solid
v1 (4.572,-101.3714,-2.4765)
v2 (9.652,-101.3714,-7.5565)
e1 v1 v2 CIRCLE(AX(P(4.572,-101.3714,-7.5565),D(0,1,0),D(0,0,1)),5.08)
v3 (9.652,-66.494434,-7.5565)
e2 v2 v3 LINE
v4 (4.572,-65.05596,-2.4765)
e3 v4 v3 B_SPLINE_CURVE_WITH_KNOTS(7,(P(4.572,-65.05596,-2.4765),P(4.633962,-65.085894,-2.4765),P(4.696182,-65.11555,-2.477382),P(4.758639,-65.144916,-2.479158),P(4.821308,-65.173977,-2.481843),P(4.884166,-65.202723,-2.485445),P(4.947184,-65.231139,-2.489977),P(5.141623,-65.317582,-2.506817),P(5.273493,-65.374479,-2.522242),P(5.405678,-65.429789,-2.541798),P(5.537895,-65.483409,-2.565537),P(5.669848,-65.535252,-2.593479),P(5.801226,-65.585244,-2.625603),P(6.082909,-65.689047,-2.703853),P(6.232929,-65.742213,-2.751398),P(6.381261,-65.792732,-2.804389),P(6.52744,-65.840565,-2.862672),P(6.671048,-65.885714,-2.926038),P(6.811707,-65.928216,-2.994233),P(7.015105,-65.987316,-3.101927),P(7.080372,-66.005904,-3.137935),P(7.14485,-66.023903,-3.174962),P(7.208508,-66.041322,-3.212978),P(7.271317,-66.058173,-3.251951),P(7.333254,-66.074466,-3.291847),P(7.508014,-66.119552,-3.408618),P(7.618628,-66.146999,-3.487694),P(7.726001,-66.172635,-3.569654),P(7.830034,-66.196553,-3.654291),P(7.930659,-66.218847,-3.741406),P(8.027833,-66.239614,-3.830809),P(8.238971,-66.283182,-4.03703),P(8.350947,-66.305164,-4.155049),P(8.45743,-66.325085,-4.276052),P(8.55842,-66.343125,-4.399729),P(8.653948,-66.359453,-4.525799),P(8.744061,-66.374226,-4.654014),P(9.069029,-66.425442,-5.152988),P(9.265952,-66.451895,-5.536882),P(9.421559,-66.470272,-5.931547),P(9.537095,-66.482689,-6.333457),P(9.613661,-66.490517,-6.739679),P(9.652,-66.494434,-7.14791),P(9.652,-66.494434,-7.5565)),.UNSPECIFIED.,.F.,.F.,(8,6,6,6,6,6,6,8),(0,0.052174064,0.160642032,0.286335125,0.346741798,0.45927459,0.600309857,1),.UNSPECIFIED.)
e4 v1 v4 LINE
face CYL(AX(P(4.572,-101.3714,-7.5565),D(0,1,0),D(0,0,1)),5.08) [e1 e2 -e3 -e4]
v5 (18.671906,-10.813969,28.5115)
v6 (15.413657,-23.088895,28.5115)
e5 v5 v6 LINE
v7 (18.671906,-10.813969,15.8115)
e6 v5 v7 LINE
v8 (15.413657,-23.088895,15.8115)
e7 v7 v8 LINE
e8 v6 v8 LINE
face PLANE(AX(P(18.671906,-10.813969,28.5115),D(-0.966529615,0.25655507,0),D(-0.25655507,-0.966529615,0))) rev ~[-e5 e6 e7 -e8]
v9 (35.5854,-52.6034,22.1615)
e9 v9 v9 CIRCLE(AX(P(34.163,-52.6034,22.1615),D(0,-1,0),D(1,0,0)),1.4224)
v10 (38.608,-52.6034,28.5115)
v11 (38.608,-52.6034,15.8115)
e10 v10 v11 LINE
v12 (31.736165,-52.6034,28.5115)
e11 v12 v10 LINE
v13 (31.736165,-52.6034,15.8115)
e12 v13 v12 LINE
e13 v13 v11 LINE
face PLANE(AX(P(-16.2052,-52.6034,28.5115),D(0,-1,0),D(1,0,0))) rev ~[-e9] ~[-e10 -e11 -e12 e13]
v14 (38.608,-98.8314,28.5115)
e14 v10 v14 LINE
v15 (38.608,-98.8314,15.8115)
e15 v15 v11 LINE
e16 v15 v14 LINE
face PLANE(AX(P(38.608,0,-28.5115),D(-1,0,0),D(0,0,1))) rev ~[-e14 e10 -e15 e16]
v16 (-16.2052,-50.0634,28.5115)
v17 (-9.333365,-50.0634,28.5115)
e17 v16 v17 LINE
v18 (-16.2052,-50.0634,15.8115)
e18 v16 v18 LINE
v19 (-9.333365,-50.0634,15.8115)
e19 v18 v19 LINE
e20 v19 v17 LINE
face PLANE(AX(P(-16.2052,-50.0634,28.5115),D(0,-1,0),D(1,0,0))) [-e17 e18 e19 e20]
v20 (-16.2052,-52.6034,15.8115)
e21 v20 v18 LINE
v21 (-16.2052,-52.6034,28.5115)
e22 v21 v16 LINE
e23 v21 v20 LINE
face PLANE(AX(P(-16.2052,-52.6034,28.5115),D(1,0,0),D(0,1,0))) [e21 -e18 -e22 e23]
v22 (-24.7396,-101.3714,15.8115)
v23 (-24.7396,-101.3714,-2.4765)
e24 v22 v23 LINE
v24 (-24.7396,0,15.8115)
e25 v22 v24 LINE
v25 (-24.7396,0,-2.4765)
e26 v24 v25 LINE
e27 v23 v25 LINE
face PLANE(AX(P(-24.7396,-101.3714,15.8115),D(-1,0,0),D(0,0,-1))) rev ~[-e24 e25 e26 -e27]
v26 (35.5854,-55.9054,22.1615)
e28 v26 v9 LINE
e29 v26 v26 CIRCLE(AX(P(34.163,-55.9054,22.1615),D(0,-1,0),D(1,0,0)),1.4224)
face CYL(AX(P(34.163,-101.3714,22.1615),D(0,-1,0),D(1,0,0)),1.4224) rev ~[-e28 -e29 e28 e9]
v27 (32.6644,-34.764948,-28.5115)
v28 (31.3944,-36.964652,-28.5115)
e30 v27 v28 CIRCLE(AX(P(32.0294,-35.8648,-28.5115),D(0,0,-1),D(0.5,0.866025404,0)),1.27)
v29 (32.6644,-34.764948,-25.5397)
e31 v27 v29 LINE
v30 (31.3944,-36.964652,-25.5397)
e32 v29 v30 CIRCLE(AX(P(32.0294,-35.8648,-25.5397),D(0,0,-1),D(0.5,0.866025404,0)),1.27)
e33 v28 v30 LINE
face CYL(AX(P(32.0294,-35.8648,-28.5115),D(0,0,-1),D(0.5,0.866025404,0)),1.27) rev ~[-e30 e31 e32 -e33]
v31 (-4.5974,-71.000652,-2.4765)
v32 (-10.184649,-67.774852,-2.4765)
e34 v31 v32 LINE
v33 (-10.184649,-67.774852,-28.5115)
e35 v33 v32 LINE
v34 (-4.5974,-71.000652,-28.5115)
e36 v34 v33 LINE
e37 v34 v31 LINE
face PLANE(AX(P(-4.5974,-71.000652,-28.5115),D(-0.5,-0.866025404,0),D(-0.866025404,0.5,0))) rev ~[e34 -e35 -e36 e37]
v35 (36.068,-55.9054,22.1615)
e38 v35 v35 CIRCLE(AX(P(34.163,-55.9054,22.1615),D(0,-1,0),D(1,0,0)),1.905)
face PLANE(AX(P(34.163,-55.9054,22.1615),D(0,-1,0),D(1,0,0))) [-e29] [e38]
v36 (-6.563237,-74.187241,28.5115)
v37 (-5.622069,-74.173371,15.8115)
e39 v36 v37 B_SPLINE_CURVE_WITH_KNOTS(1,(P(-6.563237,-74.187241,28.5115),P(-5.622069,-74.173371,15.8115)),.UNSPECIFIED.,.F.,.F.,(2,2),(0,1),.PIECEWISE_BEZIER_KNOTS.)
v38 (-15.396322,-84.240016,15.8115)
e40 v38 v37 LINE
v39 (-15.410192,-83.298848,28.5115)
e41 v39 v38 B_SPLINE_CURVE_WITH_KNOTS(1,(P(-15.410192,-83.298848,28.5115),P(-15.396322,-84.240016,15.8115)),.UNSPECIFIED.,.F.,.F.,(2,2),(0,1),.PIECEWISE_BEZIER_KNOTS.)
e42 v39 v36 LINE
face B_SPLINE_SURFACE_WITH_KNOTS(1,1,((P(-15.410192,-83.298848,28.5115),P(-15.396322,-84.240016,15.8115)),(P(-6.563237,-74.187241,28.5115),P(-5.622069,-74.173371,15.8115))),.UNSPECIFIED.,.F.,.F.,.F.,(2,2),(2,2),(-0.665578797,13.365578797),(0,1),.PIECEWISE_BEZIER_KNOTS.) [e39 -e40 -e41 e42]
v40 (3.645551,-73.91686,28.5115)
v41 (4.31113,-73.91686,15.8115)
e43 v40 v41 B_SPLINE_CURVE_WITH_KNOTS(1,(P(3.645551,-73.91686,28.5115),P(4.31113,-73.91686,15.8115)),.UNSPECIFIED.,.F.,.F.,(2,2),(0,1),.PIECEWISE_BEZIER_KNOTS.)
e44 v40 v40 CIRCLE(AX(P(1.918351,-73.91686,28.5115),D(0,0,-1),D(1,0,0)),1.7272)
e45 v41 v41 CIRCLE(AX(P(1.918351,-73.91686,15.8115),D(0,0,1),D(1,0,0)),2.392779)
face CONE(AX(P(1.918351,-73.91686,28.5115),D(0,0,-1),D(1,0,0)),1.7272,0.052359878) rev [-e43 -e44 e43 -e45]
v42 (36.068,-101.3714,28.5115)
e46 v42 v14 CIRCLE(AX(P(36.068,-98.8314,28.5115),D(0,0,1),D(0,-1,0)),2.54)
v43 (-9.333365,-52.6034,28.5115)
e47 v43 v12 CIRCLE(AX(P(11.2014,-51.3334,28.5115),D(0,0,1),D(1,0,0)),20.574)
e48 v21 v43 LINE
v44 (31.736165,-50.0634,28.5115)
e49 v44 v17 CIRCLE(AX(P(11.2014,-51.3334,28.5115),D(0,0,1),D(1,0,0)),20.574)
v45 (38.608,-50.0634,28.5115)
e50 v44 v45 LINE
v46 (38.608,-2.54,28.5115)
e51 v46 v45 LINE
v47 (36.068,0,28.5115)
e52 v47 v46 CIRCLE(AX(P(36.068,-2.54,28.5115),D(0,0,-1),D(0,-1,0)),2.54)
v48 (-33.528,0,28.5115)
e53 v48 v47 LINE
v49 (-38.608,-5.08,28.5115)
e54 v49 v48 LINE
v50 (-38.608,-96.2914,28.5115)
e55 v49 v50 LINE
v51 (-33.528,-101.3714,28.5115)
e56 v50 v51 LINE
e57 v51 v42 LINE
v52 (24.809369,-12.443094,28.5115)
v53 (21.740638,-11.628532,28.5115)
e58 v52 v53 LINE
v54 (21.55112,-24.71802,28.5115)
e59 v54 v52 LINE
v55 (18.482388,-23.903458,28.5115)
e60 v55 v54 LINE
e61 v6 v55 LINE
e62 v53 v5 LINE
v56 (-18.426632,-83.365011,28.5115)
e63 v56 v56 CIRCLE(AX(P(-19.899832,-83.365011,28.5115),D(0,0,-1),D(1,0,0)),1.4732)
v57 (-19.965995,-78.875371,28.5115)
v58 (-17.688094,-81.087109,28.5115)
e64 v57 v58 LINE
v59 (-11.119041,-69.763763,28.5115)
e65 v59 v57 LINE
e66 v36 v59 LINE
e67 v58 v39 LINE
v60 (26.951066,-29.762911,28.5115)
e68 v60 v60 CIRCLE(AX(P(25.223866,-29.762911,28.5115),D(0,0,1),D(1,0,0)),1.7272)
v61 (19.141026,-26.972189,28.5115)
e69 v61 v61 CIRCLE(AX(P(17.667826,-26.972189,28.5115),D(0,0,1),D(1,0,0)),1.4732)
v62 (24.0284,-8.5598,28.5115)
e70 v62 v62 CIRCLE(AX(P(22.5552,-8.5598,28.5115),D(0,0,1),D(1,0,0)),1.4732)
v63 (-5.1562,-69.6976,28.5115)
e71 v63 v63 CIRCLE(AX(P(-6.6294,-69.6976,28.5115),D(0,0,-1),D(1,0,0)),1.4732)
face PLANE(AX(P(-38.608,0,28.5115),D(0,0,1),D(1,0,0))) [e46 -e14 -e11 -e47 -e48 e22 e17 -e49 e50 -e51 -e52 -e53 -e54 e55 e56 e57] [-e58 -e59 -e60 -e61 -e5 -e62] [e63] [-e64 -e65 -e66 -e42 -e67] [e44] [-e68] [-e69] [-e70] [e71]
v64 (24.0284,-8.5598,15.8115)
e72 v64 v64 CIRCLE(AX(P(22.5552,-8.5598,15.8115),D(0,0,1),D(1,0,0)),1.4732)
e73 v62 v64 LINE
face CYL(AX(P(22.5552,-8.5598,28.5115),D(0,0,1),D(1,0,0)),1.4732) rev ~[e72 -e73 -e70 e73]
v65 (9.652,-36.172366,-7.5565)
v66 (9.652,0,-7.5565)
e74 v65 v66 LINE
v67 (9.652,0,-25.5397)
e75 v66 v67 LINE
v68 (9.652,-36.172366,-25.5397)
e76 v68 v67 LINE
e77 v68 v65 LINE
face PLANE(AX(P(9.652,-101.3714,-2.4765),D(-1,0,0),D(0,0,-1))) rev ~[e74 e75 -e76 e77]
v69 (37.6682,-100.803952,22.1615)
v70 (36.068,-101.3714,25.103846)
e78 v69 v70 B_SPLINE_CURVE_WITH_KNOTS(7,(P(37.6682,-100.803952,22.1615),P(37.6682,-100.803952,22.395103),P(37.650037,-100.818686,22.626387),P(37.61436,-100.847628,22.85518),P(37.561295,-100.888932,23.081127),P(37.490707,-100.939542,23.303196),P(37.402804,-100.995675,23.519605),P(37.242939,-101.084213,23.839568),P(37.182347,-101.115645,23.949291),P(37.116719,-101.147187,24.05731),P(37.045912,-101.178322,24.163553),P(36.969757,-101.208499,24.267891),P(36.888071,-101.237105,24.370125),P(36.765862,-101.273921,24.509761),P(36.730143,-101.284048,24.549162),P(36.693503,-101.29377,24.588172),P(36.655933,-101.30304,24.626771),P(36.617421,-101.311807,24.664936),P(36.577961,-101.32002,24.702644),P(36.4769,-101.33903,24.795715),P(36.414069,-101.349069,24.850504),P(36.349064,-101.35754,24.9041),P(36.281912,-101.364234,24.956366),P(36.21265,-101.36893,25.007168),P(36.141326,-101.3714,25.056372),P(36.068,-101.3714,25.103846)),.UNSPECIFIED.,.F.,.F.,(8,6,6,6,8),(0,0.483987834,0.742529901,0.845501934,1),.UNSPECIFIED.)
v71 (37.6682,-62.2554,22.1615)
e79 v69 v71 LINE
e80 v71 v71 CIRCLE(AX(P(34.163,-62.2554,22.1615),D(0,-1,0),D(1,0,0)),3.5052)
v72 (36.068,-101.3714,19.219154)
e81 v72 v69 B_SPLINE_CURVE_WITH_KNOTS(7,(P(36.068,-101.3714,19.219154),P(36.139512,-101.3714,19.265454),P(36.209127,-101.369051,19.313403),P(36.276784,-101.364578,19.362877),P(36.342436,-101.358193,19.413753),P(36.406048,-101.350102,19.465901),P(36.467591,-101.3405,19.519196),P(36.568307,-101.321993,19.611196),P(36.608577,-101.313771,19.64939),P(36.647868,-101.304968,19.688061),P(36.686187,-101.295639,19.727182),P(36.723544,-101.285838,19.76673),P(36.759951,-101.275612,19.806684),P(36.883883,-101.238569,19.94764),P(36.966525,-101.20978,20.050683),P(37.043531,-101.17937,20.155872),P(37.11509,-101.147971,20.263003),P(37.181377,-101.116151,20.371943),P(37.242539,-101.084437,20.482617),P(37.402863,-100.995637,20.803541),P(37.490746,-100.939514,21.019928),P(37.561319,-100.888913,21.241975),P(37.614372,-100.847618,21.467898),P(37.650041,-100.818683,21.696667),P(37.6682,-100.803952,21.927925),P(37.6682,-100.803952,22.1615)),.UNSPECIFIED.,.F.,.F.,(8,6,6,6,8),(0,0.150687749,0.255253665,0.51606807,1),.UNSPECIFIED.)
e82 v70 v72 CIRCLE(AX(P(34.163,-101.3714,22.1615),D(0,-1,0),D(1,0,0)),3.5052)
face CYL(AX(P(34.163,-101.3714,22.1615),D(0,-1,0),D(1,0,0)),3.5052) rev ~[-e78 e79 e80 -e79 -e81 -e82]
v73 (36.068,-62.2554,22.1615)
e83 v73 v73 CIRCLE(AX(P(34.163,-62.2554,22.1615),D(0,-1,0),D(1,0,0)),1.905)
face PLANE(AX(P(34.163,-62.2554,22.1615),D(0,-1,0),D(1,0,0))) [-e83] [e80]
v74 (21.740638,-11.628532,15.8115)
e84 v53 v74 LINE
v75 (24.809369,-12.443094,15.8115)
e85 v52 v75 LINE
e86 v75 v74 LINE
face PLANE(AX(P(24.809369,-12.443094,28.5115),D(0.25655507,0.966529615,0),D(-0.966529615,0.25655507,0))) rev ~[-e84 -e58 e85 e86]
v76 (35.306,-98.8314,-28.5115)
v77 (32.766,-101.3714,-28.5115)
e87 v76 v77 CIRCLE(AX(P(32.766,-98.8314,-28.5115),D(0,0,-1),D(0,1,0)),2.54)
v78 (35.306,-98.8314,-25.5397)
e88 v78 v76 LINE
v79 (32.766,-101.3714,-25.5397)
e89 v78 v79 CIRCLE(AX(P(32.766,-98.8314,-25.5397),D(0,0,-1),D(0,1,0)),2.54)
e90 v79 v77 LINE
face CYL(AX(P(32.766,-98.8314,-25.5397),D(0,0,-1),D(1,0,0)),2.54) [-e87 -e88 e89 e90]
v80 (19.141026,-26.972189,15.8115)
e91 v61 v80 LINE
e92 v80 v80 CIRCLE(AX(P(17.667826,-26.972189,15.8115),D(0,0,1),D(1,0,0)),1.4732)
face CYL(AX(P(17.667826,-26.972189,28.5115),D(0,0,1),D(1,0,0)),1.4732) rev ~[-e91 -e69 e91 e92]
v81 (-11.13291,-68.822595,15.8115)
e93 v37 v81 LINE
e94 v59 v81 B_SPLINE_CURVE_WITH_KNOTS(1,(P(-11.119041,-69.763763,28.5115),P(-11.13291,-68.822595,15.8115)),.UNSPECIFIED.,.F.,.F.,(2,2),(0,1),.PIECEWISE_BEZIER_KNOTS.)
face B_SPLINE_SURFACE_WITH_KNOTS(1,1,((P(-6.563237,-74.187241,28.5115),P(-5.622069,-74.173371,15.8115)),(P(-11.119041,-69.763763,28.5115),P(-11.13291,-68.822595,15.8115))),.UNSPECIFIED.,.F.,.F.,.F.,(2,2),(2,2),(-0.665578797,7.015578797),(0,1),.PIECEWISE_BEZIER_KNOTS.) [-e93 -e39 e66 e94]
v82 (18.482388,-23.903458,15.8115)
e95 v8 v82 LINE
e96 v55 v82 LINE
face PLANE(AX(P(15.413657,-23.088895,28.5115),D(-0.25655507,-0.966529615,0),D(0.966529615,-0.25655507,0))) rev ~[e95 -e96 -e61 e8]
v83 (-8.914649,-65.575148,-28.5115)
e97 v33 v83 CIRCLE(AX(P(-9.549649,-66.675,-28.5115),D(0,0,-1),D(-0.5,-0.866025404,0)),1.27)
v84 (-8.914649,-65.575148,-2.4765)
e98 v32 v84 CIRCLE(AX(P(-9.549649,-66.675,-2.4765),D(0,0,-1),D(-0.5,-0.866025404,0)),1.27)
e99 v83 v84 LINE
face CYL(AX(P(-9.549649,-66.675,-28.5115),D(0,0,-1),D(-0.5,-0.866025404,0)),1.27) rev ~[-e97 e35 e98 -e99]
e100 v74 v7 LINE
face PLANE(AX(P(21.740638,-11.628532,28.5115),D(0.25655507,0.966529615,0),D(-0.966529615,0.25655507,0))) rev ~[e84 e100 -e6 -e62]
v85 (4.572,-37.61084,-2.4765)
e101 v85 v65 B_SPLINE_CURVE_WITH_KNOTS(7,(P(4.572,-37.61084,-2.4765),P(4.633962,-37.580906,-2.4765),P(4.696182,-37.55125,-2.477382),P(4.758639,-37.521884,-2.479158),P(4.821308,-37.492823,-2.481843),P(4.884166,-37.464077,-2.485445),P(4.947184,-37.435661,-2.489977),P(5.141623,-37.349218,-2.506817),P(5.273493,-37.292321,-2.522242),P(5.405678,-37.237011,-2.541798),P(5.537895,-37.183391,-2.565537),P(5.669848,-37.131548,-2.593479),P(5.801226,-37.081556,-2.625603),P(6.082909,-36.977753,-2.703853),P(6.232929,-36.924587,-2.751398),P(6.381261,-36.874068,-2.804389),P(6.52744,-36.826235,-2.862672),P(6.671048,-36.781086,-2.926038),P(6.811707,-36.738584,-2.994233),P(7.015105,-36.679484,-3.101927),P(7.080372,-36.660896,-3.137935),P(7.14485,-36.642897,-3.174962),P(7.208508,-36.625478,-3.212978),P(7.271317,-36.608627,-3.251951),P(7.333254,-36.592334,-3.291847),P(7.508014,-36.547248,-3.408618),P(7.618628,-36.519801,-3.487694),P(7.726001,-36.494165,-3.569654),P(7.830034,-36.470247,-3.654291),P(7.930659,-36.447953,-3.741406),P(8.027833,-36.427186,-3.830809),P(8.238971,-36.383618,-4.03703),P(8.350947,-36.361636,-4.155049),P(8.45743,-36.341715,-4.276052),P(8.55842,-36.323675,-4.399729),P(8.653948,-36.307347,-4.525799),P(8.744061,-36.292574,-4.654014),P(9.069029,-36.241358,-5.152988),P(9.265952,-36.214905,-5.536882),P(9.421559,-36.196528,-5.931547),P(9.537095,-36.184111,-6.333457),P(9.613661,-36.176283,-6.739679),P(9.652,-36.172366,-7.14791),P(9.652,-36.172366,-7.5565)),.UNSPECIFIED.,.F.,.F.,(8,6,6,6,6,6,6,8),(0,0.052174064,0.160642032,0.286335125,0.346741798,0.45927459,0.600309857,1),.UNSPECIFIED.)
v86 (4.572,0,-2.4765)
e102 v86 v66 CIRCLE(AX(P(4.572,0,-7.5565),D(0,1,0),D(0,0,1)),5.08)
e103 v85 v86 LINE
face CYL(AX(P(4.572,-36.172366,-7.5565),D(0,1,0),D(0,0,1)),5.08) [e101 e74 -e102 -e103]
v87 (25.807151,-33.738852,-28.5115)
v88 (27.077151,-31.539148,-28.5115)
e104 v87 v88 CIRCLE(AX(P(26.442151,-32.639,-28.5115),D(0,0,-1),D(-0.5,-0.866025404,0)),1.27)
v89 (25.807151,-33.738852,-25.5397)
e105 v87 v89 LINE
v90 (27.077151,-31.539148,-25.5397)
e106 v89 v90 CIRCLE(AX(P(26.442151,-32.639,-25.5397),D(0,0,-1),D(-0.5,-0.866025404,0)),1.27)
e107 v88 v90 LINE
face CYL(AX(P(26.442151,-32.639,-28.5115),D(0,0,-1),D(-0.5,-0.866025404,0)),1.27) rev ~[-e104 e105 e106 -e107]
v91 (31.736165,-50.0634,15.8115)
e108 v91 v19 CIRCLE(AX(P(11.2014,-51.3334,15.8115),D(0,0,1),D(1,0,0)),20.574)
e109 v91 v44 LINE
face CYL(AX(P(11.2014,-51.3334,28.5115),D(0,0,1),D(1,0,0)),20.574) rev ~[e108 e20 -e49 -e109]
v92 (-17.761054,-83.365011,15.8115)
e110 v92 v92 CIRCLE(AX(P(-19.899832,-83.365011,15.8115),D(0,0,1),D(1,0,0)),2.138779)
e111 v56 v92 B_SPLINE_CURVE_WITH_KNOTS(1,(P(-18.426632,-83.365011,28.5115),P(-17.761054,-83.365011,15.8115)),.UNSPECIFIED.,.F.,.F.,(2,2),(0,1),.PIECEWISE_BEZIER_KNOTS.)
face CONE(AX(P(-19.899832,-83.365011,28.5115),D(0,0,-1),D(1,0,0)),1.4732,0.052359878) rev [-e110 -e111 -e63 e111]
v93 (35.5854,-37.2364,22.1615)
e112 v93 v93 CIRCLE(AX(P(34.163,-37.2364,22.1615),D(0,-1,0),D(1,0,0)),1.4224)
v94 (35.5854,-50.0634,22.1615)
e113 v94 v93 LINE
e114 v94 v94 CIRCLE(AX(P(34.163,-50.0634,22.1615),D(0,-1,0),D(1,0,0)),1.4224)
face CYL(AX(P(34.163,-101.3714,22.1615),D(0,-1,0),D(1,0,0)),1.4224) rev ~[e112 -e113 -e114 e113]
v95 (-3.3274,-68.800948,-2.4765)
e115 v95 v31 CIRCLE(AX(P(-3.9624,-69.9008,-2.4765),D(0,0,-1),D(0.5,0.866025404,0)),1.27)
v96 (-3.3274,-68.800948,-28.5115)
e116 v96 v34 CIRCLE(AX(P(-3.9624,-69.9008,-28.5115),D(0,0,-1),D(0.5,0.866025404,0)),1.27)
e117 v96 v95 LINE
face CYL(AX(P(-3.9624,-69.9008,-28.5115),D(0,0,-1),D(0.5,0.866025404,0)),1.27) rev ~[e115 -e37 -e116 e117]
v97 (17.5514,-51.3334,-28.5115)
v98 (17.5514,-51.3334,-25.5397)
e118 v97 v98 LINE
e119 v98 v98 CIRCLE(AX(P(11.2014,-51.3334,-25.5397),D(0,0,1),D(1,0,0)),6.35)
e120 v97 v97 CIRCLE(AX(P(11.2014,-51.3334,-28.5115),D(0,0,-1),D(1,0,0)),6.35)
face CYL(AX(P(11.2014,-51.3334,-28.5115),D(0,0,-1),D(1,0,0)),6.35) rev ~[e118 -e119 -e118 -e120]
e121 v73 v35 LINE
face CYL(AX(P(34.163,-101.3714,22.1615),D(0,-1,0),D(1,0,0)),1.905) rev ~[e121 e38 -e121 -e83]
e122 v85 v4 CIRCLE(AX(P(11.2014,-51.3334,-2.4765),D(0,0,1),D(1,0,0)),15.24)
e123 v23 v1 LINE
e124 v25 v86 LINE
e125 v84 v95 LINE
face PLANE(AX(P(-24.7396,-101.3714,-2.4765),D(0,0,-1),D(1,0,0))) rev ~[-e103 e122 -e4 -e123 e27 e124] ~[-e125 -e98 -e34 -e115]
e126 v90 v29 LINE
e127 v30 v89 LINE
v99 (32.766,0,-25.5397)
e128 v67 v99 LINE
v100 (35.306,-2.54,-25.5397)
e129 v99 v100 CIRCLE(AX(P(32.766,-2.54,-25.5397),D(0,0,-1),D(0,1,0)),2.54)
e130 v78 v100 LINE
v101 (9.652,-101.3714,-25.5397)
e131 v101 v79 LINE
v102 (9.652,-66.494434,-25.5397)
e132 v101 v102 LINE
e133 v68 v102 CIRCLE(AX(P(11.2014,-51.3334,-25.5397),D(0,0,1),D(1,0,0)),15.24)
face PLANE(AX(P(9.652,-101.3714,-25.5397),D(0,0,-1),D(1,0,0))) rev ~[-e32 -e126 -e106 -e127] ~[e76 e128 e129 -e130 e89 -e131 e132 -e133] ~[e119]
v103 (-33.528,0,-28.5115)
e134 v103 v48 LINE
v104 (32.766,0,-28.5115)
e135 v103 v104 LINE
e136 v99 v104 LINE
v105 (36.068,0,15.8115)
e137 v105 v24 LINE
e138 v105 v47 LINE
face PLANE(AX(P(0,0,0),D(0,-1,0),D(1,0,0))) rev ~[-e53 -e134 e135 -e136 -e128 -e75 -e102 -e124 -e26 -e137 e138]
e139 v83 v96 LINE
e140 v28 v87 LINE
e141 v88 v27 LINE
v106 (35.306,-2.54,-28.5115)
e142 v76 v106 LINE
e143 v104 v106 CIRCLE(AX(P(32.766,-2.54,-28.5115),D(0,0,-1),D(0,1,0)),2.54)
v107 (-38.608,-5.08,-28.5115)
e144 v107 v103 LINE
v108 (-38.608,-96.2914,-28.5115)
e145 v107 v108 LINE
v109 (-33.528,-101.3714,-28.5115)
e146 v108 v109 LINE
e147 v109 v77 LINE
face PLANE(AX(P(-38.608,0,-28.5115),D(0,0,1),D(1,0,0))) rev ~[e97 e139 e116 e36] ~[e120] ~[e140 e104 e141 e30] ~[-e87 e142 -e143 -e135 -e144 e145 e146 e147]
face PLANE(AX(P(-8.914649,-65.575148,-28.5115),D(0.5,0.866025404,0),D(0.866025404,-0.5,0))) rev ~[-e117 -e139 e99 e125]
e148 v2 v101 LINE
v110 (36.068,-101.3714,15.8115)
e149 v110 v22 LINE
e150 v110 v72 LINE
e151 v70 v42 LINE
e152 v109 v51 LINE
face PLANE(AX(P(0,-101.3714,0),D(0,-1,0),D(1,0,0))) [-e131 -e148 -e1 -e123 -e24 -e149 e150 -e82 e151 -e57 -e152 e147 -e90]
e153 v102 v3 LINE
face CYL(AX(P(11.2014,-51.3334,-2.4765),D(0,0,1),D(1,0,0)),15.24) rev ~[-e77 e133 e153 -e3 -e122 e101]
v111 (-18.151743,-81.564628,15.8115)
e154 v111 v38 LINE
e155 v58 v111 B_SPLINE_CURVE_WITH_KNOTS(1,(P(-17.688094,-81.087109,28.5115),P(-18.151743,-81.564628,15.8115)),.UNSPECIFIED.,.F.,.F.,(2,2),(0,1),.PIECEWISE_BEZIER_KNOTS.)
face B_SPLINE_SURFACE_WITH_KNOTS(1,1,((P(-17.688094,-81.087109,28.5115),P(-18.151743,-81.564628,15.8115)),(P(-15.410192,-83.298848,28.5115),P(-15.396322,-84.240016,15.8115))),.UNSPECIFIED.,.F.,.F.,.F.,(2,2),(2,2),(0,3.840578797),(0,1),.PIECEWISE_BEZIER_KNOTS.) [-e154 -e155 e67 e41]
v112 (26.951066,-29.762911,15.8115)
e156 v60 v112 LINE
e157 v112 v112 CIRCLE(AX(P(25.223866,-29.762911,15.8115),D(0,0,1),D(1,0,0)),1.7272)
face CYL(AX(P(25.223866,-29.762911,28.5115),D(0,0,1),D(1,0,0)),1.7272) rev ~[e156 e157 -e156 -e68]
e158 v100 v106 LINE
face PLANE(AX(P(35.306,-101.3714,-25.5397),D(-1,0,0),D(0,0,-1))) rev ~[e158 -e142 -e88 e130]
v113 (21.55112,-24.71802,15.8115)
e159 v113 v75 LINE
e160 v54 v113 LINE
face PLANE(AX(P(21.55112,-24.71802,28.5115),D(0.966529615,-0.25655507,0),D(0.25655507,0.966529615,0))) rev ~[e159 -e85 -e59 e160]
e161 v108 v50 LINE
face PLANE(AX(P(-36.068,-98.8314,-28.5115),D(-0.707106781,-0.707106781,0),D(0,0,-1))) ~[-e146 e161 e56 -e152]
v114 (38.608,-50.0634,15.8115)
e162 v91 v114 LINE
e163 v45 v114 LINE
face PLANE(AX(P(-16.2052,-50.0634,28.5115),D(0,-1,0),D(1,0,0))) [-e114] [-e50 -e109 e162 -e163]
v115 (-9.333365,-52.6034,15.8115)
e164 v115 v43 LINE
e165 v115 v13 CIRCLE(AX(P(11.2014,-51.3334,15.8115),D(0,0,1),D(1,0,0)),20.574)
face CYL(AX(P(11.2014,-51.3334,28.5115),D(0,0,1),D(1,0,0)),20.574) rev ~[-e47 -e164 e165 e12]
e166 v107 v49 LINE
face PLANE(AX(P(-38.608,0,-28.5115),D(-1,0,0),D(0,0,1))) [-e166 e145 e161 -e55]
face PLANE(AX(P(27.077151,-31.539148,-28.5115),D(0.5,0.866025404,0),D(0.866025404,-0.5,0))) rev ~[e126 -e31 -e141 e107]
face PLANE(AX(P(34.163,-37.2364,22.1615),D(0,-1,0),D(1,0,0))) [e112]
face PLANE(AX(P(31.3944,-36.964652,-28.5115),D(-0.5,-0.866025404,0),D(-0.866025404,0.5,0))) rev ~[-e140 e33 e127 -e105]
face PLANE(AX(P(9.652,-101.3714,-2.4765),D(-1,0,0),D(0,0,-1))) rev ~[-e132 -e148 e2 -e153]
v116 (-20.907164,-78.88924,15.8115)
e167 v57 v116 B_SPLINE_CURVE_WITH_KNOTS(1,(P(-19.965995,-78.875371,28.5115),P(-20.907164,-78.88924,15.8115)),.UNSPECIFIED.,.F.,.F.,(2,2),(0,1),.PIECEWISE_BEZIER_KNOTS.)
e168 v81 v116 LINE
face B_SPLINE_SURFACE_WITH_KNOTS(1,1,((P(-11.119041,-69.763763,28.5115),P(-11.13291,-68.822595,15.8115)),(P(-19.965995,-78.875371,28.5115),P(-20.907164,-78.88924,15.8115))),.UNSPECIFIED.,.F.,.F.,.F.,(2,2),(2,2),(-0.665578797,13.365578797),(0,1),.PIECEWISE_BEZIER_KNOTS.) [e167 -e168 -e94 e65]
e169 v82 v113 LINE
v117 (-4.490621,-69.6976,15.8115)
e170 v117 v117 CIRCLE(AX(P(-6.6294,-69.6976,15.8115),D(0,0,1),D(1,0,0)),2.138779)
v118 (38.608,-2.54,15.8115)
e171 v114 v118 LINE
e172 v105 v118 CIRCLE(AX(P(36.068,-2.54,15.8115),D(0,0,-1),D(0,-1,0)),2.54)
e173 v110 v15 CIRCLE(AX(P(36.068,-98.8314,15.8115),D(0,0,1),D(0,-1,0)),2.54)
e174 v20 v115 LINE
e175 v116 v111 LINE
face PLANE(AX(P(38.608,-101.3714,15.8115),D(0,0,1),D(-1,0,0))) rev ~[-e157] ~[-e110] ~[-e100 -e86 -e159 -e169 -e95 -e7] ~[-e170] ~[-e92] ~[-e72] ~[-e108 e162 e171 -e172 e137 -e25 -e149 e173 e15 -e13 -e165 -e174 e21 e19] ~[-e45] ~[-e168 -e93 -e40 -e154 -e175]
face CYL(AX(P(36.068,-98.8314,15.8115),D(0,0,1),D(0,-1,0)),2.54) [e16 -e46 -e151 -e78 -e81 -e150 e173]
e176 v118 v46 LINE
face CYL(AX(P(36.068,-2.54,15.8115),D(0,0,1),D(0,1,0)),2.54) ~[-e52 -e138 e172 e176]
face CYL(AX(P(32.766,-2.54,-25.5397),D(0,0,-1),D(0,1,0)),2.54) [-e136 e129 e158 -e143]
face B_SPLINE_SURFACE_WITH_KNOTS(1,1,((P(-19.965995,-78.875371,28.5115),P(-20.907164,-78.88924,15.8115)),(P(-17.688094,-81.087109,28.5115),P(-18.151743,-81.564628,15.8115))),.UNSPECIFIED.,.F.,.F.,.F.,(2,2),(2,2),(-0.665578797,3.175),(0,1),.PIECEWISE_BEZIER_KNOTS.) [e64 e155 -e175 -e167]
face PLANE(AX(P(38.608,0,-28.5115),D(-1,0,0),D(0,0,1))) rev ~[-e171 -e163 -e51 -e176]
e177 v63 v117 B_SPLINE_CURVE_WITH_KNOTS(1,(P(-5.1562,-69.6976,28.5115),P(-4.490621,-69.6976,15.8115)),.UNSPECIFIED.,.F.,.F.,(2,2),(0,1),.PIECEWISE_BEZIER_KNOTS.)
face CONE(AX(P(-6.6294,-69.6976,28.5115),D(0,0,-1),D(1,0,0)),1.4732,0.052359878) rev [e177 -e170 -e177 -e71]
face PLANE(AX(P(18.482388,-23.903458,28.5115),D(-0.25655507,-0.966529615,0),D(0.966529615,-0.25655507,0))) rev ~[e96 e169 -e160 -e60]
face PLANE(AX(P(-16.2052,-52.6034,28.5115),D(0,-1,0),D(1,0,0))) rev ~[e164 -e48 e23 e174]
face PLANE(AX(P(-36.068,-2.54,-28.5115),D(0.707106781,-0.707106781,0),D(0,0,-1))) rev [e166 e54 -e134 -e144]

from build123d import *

# Parameters (mm, degrees)
F0_W      = 77.216
F0_H      = 57.023
F1_DEPTH  = 101.3714
F4_DEPTH  = 101.3724
F6_R      = 6.35
F7_DEPTH  = 57.024
F8_R      = 15.24
F9_DEPTH  = 23.0632
F10_R     = 20.574
F11_DEPTH = 12.7
F12_W     = 54.8132
F12_H     = 2.54
F13_DEPTH = 12.7
F14_SIZE  = 5.08
F15_R     = 5.08
F16_R     = 2.54
F18_DEPTH = 26.036
F19_R     = 1.4224
F20_DEPTH = 64.135
F19_R_2   = 1.905
F21_DEPTH = 45.466
F19_R_3   = 3.5052
F22_DEPTH = 39.116
F23_R     = 1.4732
F23_R_2   = 1.7272
F24_DEPTH = 12.7
F25_R     = 1.4732
F25_R_2   = 1.7272
F26_DEPTH = 12.7
F26_TAPER = -3


with BuildPart() as f1:
    # F0 (on Front) → F1 (new body)
    with BuildSketch(Plane.XZ):
        Rectangle(F0_W, F0_H)
    extrude(amount=F1_DEPTH)

    # F3 (on face) → F4 (cut, through all)
    with BuildSketch(Plane.XZ.offset(101.3714)):
        Polygon((35.306, -28.5115), (38.608, -28.5115), (38.608, 15.8115), (-24.7396, 15.8115), (-24.7396, -2.4765), (9.652, -2.4765), (9.652, -25.5397), (35.306, -25.5397), align=None)
    extrude(amount=-F4_DEPTH, mode=Mode.SUBTRACT)

    # F6 (on face) → F7 (cut, through all)
    with BuildSketch(Plane(origin=(0, 0, -28.5115), x_dir=(1, 0, 0), z_dir=(0, 0, -1))):
        with Locations((11.2014, 51.3334)):
            Circle(F6_R)
    extrude(amount=-F7_DEPTH, mode=Mode.SUBTRACT)

    # F8 (on face) → F9 (cut, through all)
    with BuildSketch(Plane.XY.offset(-2.4765)):
        with Locations((11.2014, -51.3334)):
            Circle(F8_R)
    extrude(amount=-F9_DEPTH, mode=Mode.SUBTRACT)

    # F10 (on face) → F11 (cut, through all)
    with BuildSketch(Plane.XY.offset(28.5115)):
        with Locations((11.2014, -51.3334)):
            Circle(F10_R)
    extrude(amount=-F11_DEPTH, mode=Mode.SUBTRACT)

    # F12 (on face) → F13 (cut, through all)
    with BuildSketch(Plane.XY.offset(28.5115)):
        with Locations((11.2014, -51.3334)):
            Rectangle(F12_W, F12_H)
    extrude(amount=-F13_DEPTH, mode=Mode.SUBTRACT)

    # F14
    f14_edges = [f1.edges().sort_by_distance(p)[0] for p in [
        (-38.608, 0, 0),
        (-38.608, -101.3714, 0),
    ]]
    chamfer(f14_edges, length=F14_SIZE)

    # F15
    f15_edges = [f1.edges().sort_by_distance(p)[0] for p in [
        (9.652, -83.932917, -2.4765),
        (9.652, -18.086183, -2.4765),
    ]]
    fillet(f15_edges, radius=F15_R)

    # F16
    f16_edges = [f1.edges().sort_by_distance(p)[0] for p in [
        (38.608, -101.3714, 22.1615),
        (38.608, 0, 22.1615),
        (35.306, -101.3714, -27.0256),
        (35.306, 0, -27.0256),
    ]]
    fillet(f16_edges, radius=F16_R)

    # F17 (on face) → F18 (cut, through all)
    with BuildSketch(Plane(origin=(0, 0, -28.5115), x_dir=(1, 0, 0), z_dir=(0, 0, -1))):
        with BuildLine():
            Line((27.0771505049, 31.5391477372), (32.6644, 34.7649477372))
            ThreePointArc((32.6644, 34.7649477372), (33.1292522628, 36.4998), (31.3944, 36.9646522628))
            Line((31.3944, 36.9646522628), (25.8071505049, 33.7388522628))
            ThreePointArc((25.8071505049, 33.7388522628), (25.3422982421, 32.004), (27.0771505049, 31.5391477372))
        make_face()
        with BuildLine():
            Line((-8.9146494951, 65.5751477372), (-3.3274, 68.8009477372))
            ThreePointArc((-3.3274, 68.8009477372), (-2.8625477372, 70.5358), (-4.5974, 71.0006522628))
            Line((-4.5974, 71.0006522628), (-10.1846494951, 67.7748522628))
            ThreePointArc((-10.1846494951, 67.7748522628), (-10.6495017579, 66.04), (-8.9146494951, 65.5751477372))
        make_face()
    extrude(amount=-F18_DEPTH, mode=Mode.SUBTRACT)

    # F19 (on face) → F20 (cut)
    with BuildSketch(Plane.XZ.offset(101.3714)):
        with Locations((34.163, 22.1615)):
            Circle(F19_R)
    extrude(amount=-F20_DEPTH, mode=Mode.SUBTRACT)

    # F19 (on face) → F21 (cut)
    with BuildSketch(Plane.XZ.offset(101.3714)):
        with Locations((34.163, 22.1615)):
            Circle(F19_R_2)
        with Locations((34.163, 22.1615)):
            Circle(F19_R, mode=Mode.SUBTRACT)
    extrude(amount=-F21_DEPTH, mode=Mode.SUBTRACT)

    # F19 (on face) → F22 (cut)
    with BuildSketch(Plane.XZ.offset(101.3714)):
        with Locations((34.163, 22.1615)):
            Circle(F19_R_3)
        with Locations((34.163, 22.1615)):
            Circle(F19_R_2, mode=Mode.SUBTRACT)
    extrude(amount=-F22_DEPTH, mode=Mode.SUBTRACT)

    # F23 (on face) → F24 (cut, through all)
    with BuildSketch(Plane.XY.offset(28.5115)):
        with Locations((22.5552, -8.5598)):
            Circle(F23_R)
        with Locations((17.6678259177, -26.97218916)):
            Circle(F23_R)
        Polygon((24.8093691796, -12.4430938737), (21.740637653, -11.6285315267), (18.6719061263, -10.8139691796), (15.4136567381, -23.0888952863), (18.4823882648, -23.9034576334), (21.5511197915, -24.7180199804), align=None)
        with Locations((25.2238661051, -29.762910679)):
            Circle(F23_R_2)
    extrude(amount=-F24_DEPTH, mode=Mode.SUBTRACT)

    # F25 (on face) → F26 (cut, through all)
    with BuildSketch(Plane.XY.offset(28.5115)):
        with Locations((-6.6294, -69.6976)):
            Circle(F25_R)
        with Locations((-19.8998323352, -83.3650110803)):
            Circle(F25_R)
        Polygon((-6.5632368758, -74.1872405692), (-8.8411387225, -71.9755018467), (-11.1190405692, -69.7637631242), (-19.9659954594, -78.875370511), (-17.6880936127, -81.0871092336), (-15.410191766, -83.2988479561), align=None)
        with Locations((1.9183511613, -73.9168599248)):
            Circle(F25_R_2)
    extrude(amount=-F26_DEPTH, taper=F26_TAPER, mode=Mode.SUBTRACT)


solid = f1.part
